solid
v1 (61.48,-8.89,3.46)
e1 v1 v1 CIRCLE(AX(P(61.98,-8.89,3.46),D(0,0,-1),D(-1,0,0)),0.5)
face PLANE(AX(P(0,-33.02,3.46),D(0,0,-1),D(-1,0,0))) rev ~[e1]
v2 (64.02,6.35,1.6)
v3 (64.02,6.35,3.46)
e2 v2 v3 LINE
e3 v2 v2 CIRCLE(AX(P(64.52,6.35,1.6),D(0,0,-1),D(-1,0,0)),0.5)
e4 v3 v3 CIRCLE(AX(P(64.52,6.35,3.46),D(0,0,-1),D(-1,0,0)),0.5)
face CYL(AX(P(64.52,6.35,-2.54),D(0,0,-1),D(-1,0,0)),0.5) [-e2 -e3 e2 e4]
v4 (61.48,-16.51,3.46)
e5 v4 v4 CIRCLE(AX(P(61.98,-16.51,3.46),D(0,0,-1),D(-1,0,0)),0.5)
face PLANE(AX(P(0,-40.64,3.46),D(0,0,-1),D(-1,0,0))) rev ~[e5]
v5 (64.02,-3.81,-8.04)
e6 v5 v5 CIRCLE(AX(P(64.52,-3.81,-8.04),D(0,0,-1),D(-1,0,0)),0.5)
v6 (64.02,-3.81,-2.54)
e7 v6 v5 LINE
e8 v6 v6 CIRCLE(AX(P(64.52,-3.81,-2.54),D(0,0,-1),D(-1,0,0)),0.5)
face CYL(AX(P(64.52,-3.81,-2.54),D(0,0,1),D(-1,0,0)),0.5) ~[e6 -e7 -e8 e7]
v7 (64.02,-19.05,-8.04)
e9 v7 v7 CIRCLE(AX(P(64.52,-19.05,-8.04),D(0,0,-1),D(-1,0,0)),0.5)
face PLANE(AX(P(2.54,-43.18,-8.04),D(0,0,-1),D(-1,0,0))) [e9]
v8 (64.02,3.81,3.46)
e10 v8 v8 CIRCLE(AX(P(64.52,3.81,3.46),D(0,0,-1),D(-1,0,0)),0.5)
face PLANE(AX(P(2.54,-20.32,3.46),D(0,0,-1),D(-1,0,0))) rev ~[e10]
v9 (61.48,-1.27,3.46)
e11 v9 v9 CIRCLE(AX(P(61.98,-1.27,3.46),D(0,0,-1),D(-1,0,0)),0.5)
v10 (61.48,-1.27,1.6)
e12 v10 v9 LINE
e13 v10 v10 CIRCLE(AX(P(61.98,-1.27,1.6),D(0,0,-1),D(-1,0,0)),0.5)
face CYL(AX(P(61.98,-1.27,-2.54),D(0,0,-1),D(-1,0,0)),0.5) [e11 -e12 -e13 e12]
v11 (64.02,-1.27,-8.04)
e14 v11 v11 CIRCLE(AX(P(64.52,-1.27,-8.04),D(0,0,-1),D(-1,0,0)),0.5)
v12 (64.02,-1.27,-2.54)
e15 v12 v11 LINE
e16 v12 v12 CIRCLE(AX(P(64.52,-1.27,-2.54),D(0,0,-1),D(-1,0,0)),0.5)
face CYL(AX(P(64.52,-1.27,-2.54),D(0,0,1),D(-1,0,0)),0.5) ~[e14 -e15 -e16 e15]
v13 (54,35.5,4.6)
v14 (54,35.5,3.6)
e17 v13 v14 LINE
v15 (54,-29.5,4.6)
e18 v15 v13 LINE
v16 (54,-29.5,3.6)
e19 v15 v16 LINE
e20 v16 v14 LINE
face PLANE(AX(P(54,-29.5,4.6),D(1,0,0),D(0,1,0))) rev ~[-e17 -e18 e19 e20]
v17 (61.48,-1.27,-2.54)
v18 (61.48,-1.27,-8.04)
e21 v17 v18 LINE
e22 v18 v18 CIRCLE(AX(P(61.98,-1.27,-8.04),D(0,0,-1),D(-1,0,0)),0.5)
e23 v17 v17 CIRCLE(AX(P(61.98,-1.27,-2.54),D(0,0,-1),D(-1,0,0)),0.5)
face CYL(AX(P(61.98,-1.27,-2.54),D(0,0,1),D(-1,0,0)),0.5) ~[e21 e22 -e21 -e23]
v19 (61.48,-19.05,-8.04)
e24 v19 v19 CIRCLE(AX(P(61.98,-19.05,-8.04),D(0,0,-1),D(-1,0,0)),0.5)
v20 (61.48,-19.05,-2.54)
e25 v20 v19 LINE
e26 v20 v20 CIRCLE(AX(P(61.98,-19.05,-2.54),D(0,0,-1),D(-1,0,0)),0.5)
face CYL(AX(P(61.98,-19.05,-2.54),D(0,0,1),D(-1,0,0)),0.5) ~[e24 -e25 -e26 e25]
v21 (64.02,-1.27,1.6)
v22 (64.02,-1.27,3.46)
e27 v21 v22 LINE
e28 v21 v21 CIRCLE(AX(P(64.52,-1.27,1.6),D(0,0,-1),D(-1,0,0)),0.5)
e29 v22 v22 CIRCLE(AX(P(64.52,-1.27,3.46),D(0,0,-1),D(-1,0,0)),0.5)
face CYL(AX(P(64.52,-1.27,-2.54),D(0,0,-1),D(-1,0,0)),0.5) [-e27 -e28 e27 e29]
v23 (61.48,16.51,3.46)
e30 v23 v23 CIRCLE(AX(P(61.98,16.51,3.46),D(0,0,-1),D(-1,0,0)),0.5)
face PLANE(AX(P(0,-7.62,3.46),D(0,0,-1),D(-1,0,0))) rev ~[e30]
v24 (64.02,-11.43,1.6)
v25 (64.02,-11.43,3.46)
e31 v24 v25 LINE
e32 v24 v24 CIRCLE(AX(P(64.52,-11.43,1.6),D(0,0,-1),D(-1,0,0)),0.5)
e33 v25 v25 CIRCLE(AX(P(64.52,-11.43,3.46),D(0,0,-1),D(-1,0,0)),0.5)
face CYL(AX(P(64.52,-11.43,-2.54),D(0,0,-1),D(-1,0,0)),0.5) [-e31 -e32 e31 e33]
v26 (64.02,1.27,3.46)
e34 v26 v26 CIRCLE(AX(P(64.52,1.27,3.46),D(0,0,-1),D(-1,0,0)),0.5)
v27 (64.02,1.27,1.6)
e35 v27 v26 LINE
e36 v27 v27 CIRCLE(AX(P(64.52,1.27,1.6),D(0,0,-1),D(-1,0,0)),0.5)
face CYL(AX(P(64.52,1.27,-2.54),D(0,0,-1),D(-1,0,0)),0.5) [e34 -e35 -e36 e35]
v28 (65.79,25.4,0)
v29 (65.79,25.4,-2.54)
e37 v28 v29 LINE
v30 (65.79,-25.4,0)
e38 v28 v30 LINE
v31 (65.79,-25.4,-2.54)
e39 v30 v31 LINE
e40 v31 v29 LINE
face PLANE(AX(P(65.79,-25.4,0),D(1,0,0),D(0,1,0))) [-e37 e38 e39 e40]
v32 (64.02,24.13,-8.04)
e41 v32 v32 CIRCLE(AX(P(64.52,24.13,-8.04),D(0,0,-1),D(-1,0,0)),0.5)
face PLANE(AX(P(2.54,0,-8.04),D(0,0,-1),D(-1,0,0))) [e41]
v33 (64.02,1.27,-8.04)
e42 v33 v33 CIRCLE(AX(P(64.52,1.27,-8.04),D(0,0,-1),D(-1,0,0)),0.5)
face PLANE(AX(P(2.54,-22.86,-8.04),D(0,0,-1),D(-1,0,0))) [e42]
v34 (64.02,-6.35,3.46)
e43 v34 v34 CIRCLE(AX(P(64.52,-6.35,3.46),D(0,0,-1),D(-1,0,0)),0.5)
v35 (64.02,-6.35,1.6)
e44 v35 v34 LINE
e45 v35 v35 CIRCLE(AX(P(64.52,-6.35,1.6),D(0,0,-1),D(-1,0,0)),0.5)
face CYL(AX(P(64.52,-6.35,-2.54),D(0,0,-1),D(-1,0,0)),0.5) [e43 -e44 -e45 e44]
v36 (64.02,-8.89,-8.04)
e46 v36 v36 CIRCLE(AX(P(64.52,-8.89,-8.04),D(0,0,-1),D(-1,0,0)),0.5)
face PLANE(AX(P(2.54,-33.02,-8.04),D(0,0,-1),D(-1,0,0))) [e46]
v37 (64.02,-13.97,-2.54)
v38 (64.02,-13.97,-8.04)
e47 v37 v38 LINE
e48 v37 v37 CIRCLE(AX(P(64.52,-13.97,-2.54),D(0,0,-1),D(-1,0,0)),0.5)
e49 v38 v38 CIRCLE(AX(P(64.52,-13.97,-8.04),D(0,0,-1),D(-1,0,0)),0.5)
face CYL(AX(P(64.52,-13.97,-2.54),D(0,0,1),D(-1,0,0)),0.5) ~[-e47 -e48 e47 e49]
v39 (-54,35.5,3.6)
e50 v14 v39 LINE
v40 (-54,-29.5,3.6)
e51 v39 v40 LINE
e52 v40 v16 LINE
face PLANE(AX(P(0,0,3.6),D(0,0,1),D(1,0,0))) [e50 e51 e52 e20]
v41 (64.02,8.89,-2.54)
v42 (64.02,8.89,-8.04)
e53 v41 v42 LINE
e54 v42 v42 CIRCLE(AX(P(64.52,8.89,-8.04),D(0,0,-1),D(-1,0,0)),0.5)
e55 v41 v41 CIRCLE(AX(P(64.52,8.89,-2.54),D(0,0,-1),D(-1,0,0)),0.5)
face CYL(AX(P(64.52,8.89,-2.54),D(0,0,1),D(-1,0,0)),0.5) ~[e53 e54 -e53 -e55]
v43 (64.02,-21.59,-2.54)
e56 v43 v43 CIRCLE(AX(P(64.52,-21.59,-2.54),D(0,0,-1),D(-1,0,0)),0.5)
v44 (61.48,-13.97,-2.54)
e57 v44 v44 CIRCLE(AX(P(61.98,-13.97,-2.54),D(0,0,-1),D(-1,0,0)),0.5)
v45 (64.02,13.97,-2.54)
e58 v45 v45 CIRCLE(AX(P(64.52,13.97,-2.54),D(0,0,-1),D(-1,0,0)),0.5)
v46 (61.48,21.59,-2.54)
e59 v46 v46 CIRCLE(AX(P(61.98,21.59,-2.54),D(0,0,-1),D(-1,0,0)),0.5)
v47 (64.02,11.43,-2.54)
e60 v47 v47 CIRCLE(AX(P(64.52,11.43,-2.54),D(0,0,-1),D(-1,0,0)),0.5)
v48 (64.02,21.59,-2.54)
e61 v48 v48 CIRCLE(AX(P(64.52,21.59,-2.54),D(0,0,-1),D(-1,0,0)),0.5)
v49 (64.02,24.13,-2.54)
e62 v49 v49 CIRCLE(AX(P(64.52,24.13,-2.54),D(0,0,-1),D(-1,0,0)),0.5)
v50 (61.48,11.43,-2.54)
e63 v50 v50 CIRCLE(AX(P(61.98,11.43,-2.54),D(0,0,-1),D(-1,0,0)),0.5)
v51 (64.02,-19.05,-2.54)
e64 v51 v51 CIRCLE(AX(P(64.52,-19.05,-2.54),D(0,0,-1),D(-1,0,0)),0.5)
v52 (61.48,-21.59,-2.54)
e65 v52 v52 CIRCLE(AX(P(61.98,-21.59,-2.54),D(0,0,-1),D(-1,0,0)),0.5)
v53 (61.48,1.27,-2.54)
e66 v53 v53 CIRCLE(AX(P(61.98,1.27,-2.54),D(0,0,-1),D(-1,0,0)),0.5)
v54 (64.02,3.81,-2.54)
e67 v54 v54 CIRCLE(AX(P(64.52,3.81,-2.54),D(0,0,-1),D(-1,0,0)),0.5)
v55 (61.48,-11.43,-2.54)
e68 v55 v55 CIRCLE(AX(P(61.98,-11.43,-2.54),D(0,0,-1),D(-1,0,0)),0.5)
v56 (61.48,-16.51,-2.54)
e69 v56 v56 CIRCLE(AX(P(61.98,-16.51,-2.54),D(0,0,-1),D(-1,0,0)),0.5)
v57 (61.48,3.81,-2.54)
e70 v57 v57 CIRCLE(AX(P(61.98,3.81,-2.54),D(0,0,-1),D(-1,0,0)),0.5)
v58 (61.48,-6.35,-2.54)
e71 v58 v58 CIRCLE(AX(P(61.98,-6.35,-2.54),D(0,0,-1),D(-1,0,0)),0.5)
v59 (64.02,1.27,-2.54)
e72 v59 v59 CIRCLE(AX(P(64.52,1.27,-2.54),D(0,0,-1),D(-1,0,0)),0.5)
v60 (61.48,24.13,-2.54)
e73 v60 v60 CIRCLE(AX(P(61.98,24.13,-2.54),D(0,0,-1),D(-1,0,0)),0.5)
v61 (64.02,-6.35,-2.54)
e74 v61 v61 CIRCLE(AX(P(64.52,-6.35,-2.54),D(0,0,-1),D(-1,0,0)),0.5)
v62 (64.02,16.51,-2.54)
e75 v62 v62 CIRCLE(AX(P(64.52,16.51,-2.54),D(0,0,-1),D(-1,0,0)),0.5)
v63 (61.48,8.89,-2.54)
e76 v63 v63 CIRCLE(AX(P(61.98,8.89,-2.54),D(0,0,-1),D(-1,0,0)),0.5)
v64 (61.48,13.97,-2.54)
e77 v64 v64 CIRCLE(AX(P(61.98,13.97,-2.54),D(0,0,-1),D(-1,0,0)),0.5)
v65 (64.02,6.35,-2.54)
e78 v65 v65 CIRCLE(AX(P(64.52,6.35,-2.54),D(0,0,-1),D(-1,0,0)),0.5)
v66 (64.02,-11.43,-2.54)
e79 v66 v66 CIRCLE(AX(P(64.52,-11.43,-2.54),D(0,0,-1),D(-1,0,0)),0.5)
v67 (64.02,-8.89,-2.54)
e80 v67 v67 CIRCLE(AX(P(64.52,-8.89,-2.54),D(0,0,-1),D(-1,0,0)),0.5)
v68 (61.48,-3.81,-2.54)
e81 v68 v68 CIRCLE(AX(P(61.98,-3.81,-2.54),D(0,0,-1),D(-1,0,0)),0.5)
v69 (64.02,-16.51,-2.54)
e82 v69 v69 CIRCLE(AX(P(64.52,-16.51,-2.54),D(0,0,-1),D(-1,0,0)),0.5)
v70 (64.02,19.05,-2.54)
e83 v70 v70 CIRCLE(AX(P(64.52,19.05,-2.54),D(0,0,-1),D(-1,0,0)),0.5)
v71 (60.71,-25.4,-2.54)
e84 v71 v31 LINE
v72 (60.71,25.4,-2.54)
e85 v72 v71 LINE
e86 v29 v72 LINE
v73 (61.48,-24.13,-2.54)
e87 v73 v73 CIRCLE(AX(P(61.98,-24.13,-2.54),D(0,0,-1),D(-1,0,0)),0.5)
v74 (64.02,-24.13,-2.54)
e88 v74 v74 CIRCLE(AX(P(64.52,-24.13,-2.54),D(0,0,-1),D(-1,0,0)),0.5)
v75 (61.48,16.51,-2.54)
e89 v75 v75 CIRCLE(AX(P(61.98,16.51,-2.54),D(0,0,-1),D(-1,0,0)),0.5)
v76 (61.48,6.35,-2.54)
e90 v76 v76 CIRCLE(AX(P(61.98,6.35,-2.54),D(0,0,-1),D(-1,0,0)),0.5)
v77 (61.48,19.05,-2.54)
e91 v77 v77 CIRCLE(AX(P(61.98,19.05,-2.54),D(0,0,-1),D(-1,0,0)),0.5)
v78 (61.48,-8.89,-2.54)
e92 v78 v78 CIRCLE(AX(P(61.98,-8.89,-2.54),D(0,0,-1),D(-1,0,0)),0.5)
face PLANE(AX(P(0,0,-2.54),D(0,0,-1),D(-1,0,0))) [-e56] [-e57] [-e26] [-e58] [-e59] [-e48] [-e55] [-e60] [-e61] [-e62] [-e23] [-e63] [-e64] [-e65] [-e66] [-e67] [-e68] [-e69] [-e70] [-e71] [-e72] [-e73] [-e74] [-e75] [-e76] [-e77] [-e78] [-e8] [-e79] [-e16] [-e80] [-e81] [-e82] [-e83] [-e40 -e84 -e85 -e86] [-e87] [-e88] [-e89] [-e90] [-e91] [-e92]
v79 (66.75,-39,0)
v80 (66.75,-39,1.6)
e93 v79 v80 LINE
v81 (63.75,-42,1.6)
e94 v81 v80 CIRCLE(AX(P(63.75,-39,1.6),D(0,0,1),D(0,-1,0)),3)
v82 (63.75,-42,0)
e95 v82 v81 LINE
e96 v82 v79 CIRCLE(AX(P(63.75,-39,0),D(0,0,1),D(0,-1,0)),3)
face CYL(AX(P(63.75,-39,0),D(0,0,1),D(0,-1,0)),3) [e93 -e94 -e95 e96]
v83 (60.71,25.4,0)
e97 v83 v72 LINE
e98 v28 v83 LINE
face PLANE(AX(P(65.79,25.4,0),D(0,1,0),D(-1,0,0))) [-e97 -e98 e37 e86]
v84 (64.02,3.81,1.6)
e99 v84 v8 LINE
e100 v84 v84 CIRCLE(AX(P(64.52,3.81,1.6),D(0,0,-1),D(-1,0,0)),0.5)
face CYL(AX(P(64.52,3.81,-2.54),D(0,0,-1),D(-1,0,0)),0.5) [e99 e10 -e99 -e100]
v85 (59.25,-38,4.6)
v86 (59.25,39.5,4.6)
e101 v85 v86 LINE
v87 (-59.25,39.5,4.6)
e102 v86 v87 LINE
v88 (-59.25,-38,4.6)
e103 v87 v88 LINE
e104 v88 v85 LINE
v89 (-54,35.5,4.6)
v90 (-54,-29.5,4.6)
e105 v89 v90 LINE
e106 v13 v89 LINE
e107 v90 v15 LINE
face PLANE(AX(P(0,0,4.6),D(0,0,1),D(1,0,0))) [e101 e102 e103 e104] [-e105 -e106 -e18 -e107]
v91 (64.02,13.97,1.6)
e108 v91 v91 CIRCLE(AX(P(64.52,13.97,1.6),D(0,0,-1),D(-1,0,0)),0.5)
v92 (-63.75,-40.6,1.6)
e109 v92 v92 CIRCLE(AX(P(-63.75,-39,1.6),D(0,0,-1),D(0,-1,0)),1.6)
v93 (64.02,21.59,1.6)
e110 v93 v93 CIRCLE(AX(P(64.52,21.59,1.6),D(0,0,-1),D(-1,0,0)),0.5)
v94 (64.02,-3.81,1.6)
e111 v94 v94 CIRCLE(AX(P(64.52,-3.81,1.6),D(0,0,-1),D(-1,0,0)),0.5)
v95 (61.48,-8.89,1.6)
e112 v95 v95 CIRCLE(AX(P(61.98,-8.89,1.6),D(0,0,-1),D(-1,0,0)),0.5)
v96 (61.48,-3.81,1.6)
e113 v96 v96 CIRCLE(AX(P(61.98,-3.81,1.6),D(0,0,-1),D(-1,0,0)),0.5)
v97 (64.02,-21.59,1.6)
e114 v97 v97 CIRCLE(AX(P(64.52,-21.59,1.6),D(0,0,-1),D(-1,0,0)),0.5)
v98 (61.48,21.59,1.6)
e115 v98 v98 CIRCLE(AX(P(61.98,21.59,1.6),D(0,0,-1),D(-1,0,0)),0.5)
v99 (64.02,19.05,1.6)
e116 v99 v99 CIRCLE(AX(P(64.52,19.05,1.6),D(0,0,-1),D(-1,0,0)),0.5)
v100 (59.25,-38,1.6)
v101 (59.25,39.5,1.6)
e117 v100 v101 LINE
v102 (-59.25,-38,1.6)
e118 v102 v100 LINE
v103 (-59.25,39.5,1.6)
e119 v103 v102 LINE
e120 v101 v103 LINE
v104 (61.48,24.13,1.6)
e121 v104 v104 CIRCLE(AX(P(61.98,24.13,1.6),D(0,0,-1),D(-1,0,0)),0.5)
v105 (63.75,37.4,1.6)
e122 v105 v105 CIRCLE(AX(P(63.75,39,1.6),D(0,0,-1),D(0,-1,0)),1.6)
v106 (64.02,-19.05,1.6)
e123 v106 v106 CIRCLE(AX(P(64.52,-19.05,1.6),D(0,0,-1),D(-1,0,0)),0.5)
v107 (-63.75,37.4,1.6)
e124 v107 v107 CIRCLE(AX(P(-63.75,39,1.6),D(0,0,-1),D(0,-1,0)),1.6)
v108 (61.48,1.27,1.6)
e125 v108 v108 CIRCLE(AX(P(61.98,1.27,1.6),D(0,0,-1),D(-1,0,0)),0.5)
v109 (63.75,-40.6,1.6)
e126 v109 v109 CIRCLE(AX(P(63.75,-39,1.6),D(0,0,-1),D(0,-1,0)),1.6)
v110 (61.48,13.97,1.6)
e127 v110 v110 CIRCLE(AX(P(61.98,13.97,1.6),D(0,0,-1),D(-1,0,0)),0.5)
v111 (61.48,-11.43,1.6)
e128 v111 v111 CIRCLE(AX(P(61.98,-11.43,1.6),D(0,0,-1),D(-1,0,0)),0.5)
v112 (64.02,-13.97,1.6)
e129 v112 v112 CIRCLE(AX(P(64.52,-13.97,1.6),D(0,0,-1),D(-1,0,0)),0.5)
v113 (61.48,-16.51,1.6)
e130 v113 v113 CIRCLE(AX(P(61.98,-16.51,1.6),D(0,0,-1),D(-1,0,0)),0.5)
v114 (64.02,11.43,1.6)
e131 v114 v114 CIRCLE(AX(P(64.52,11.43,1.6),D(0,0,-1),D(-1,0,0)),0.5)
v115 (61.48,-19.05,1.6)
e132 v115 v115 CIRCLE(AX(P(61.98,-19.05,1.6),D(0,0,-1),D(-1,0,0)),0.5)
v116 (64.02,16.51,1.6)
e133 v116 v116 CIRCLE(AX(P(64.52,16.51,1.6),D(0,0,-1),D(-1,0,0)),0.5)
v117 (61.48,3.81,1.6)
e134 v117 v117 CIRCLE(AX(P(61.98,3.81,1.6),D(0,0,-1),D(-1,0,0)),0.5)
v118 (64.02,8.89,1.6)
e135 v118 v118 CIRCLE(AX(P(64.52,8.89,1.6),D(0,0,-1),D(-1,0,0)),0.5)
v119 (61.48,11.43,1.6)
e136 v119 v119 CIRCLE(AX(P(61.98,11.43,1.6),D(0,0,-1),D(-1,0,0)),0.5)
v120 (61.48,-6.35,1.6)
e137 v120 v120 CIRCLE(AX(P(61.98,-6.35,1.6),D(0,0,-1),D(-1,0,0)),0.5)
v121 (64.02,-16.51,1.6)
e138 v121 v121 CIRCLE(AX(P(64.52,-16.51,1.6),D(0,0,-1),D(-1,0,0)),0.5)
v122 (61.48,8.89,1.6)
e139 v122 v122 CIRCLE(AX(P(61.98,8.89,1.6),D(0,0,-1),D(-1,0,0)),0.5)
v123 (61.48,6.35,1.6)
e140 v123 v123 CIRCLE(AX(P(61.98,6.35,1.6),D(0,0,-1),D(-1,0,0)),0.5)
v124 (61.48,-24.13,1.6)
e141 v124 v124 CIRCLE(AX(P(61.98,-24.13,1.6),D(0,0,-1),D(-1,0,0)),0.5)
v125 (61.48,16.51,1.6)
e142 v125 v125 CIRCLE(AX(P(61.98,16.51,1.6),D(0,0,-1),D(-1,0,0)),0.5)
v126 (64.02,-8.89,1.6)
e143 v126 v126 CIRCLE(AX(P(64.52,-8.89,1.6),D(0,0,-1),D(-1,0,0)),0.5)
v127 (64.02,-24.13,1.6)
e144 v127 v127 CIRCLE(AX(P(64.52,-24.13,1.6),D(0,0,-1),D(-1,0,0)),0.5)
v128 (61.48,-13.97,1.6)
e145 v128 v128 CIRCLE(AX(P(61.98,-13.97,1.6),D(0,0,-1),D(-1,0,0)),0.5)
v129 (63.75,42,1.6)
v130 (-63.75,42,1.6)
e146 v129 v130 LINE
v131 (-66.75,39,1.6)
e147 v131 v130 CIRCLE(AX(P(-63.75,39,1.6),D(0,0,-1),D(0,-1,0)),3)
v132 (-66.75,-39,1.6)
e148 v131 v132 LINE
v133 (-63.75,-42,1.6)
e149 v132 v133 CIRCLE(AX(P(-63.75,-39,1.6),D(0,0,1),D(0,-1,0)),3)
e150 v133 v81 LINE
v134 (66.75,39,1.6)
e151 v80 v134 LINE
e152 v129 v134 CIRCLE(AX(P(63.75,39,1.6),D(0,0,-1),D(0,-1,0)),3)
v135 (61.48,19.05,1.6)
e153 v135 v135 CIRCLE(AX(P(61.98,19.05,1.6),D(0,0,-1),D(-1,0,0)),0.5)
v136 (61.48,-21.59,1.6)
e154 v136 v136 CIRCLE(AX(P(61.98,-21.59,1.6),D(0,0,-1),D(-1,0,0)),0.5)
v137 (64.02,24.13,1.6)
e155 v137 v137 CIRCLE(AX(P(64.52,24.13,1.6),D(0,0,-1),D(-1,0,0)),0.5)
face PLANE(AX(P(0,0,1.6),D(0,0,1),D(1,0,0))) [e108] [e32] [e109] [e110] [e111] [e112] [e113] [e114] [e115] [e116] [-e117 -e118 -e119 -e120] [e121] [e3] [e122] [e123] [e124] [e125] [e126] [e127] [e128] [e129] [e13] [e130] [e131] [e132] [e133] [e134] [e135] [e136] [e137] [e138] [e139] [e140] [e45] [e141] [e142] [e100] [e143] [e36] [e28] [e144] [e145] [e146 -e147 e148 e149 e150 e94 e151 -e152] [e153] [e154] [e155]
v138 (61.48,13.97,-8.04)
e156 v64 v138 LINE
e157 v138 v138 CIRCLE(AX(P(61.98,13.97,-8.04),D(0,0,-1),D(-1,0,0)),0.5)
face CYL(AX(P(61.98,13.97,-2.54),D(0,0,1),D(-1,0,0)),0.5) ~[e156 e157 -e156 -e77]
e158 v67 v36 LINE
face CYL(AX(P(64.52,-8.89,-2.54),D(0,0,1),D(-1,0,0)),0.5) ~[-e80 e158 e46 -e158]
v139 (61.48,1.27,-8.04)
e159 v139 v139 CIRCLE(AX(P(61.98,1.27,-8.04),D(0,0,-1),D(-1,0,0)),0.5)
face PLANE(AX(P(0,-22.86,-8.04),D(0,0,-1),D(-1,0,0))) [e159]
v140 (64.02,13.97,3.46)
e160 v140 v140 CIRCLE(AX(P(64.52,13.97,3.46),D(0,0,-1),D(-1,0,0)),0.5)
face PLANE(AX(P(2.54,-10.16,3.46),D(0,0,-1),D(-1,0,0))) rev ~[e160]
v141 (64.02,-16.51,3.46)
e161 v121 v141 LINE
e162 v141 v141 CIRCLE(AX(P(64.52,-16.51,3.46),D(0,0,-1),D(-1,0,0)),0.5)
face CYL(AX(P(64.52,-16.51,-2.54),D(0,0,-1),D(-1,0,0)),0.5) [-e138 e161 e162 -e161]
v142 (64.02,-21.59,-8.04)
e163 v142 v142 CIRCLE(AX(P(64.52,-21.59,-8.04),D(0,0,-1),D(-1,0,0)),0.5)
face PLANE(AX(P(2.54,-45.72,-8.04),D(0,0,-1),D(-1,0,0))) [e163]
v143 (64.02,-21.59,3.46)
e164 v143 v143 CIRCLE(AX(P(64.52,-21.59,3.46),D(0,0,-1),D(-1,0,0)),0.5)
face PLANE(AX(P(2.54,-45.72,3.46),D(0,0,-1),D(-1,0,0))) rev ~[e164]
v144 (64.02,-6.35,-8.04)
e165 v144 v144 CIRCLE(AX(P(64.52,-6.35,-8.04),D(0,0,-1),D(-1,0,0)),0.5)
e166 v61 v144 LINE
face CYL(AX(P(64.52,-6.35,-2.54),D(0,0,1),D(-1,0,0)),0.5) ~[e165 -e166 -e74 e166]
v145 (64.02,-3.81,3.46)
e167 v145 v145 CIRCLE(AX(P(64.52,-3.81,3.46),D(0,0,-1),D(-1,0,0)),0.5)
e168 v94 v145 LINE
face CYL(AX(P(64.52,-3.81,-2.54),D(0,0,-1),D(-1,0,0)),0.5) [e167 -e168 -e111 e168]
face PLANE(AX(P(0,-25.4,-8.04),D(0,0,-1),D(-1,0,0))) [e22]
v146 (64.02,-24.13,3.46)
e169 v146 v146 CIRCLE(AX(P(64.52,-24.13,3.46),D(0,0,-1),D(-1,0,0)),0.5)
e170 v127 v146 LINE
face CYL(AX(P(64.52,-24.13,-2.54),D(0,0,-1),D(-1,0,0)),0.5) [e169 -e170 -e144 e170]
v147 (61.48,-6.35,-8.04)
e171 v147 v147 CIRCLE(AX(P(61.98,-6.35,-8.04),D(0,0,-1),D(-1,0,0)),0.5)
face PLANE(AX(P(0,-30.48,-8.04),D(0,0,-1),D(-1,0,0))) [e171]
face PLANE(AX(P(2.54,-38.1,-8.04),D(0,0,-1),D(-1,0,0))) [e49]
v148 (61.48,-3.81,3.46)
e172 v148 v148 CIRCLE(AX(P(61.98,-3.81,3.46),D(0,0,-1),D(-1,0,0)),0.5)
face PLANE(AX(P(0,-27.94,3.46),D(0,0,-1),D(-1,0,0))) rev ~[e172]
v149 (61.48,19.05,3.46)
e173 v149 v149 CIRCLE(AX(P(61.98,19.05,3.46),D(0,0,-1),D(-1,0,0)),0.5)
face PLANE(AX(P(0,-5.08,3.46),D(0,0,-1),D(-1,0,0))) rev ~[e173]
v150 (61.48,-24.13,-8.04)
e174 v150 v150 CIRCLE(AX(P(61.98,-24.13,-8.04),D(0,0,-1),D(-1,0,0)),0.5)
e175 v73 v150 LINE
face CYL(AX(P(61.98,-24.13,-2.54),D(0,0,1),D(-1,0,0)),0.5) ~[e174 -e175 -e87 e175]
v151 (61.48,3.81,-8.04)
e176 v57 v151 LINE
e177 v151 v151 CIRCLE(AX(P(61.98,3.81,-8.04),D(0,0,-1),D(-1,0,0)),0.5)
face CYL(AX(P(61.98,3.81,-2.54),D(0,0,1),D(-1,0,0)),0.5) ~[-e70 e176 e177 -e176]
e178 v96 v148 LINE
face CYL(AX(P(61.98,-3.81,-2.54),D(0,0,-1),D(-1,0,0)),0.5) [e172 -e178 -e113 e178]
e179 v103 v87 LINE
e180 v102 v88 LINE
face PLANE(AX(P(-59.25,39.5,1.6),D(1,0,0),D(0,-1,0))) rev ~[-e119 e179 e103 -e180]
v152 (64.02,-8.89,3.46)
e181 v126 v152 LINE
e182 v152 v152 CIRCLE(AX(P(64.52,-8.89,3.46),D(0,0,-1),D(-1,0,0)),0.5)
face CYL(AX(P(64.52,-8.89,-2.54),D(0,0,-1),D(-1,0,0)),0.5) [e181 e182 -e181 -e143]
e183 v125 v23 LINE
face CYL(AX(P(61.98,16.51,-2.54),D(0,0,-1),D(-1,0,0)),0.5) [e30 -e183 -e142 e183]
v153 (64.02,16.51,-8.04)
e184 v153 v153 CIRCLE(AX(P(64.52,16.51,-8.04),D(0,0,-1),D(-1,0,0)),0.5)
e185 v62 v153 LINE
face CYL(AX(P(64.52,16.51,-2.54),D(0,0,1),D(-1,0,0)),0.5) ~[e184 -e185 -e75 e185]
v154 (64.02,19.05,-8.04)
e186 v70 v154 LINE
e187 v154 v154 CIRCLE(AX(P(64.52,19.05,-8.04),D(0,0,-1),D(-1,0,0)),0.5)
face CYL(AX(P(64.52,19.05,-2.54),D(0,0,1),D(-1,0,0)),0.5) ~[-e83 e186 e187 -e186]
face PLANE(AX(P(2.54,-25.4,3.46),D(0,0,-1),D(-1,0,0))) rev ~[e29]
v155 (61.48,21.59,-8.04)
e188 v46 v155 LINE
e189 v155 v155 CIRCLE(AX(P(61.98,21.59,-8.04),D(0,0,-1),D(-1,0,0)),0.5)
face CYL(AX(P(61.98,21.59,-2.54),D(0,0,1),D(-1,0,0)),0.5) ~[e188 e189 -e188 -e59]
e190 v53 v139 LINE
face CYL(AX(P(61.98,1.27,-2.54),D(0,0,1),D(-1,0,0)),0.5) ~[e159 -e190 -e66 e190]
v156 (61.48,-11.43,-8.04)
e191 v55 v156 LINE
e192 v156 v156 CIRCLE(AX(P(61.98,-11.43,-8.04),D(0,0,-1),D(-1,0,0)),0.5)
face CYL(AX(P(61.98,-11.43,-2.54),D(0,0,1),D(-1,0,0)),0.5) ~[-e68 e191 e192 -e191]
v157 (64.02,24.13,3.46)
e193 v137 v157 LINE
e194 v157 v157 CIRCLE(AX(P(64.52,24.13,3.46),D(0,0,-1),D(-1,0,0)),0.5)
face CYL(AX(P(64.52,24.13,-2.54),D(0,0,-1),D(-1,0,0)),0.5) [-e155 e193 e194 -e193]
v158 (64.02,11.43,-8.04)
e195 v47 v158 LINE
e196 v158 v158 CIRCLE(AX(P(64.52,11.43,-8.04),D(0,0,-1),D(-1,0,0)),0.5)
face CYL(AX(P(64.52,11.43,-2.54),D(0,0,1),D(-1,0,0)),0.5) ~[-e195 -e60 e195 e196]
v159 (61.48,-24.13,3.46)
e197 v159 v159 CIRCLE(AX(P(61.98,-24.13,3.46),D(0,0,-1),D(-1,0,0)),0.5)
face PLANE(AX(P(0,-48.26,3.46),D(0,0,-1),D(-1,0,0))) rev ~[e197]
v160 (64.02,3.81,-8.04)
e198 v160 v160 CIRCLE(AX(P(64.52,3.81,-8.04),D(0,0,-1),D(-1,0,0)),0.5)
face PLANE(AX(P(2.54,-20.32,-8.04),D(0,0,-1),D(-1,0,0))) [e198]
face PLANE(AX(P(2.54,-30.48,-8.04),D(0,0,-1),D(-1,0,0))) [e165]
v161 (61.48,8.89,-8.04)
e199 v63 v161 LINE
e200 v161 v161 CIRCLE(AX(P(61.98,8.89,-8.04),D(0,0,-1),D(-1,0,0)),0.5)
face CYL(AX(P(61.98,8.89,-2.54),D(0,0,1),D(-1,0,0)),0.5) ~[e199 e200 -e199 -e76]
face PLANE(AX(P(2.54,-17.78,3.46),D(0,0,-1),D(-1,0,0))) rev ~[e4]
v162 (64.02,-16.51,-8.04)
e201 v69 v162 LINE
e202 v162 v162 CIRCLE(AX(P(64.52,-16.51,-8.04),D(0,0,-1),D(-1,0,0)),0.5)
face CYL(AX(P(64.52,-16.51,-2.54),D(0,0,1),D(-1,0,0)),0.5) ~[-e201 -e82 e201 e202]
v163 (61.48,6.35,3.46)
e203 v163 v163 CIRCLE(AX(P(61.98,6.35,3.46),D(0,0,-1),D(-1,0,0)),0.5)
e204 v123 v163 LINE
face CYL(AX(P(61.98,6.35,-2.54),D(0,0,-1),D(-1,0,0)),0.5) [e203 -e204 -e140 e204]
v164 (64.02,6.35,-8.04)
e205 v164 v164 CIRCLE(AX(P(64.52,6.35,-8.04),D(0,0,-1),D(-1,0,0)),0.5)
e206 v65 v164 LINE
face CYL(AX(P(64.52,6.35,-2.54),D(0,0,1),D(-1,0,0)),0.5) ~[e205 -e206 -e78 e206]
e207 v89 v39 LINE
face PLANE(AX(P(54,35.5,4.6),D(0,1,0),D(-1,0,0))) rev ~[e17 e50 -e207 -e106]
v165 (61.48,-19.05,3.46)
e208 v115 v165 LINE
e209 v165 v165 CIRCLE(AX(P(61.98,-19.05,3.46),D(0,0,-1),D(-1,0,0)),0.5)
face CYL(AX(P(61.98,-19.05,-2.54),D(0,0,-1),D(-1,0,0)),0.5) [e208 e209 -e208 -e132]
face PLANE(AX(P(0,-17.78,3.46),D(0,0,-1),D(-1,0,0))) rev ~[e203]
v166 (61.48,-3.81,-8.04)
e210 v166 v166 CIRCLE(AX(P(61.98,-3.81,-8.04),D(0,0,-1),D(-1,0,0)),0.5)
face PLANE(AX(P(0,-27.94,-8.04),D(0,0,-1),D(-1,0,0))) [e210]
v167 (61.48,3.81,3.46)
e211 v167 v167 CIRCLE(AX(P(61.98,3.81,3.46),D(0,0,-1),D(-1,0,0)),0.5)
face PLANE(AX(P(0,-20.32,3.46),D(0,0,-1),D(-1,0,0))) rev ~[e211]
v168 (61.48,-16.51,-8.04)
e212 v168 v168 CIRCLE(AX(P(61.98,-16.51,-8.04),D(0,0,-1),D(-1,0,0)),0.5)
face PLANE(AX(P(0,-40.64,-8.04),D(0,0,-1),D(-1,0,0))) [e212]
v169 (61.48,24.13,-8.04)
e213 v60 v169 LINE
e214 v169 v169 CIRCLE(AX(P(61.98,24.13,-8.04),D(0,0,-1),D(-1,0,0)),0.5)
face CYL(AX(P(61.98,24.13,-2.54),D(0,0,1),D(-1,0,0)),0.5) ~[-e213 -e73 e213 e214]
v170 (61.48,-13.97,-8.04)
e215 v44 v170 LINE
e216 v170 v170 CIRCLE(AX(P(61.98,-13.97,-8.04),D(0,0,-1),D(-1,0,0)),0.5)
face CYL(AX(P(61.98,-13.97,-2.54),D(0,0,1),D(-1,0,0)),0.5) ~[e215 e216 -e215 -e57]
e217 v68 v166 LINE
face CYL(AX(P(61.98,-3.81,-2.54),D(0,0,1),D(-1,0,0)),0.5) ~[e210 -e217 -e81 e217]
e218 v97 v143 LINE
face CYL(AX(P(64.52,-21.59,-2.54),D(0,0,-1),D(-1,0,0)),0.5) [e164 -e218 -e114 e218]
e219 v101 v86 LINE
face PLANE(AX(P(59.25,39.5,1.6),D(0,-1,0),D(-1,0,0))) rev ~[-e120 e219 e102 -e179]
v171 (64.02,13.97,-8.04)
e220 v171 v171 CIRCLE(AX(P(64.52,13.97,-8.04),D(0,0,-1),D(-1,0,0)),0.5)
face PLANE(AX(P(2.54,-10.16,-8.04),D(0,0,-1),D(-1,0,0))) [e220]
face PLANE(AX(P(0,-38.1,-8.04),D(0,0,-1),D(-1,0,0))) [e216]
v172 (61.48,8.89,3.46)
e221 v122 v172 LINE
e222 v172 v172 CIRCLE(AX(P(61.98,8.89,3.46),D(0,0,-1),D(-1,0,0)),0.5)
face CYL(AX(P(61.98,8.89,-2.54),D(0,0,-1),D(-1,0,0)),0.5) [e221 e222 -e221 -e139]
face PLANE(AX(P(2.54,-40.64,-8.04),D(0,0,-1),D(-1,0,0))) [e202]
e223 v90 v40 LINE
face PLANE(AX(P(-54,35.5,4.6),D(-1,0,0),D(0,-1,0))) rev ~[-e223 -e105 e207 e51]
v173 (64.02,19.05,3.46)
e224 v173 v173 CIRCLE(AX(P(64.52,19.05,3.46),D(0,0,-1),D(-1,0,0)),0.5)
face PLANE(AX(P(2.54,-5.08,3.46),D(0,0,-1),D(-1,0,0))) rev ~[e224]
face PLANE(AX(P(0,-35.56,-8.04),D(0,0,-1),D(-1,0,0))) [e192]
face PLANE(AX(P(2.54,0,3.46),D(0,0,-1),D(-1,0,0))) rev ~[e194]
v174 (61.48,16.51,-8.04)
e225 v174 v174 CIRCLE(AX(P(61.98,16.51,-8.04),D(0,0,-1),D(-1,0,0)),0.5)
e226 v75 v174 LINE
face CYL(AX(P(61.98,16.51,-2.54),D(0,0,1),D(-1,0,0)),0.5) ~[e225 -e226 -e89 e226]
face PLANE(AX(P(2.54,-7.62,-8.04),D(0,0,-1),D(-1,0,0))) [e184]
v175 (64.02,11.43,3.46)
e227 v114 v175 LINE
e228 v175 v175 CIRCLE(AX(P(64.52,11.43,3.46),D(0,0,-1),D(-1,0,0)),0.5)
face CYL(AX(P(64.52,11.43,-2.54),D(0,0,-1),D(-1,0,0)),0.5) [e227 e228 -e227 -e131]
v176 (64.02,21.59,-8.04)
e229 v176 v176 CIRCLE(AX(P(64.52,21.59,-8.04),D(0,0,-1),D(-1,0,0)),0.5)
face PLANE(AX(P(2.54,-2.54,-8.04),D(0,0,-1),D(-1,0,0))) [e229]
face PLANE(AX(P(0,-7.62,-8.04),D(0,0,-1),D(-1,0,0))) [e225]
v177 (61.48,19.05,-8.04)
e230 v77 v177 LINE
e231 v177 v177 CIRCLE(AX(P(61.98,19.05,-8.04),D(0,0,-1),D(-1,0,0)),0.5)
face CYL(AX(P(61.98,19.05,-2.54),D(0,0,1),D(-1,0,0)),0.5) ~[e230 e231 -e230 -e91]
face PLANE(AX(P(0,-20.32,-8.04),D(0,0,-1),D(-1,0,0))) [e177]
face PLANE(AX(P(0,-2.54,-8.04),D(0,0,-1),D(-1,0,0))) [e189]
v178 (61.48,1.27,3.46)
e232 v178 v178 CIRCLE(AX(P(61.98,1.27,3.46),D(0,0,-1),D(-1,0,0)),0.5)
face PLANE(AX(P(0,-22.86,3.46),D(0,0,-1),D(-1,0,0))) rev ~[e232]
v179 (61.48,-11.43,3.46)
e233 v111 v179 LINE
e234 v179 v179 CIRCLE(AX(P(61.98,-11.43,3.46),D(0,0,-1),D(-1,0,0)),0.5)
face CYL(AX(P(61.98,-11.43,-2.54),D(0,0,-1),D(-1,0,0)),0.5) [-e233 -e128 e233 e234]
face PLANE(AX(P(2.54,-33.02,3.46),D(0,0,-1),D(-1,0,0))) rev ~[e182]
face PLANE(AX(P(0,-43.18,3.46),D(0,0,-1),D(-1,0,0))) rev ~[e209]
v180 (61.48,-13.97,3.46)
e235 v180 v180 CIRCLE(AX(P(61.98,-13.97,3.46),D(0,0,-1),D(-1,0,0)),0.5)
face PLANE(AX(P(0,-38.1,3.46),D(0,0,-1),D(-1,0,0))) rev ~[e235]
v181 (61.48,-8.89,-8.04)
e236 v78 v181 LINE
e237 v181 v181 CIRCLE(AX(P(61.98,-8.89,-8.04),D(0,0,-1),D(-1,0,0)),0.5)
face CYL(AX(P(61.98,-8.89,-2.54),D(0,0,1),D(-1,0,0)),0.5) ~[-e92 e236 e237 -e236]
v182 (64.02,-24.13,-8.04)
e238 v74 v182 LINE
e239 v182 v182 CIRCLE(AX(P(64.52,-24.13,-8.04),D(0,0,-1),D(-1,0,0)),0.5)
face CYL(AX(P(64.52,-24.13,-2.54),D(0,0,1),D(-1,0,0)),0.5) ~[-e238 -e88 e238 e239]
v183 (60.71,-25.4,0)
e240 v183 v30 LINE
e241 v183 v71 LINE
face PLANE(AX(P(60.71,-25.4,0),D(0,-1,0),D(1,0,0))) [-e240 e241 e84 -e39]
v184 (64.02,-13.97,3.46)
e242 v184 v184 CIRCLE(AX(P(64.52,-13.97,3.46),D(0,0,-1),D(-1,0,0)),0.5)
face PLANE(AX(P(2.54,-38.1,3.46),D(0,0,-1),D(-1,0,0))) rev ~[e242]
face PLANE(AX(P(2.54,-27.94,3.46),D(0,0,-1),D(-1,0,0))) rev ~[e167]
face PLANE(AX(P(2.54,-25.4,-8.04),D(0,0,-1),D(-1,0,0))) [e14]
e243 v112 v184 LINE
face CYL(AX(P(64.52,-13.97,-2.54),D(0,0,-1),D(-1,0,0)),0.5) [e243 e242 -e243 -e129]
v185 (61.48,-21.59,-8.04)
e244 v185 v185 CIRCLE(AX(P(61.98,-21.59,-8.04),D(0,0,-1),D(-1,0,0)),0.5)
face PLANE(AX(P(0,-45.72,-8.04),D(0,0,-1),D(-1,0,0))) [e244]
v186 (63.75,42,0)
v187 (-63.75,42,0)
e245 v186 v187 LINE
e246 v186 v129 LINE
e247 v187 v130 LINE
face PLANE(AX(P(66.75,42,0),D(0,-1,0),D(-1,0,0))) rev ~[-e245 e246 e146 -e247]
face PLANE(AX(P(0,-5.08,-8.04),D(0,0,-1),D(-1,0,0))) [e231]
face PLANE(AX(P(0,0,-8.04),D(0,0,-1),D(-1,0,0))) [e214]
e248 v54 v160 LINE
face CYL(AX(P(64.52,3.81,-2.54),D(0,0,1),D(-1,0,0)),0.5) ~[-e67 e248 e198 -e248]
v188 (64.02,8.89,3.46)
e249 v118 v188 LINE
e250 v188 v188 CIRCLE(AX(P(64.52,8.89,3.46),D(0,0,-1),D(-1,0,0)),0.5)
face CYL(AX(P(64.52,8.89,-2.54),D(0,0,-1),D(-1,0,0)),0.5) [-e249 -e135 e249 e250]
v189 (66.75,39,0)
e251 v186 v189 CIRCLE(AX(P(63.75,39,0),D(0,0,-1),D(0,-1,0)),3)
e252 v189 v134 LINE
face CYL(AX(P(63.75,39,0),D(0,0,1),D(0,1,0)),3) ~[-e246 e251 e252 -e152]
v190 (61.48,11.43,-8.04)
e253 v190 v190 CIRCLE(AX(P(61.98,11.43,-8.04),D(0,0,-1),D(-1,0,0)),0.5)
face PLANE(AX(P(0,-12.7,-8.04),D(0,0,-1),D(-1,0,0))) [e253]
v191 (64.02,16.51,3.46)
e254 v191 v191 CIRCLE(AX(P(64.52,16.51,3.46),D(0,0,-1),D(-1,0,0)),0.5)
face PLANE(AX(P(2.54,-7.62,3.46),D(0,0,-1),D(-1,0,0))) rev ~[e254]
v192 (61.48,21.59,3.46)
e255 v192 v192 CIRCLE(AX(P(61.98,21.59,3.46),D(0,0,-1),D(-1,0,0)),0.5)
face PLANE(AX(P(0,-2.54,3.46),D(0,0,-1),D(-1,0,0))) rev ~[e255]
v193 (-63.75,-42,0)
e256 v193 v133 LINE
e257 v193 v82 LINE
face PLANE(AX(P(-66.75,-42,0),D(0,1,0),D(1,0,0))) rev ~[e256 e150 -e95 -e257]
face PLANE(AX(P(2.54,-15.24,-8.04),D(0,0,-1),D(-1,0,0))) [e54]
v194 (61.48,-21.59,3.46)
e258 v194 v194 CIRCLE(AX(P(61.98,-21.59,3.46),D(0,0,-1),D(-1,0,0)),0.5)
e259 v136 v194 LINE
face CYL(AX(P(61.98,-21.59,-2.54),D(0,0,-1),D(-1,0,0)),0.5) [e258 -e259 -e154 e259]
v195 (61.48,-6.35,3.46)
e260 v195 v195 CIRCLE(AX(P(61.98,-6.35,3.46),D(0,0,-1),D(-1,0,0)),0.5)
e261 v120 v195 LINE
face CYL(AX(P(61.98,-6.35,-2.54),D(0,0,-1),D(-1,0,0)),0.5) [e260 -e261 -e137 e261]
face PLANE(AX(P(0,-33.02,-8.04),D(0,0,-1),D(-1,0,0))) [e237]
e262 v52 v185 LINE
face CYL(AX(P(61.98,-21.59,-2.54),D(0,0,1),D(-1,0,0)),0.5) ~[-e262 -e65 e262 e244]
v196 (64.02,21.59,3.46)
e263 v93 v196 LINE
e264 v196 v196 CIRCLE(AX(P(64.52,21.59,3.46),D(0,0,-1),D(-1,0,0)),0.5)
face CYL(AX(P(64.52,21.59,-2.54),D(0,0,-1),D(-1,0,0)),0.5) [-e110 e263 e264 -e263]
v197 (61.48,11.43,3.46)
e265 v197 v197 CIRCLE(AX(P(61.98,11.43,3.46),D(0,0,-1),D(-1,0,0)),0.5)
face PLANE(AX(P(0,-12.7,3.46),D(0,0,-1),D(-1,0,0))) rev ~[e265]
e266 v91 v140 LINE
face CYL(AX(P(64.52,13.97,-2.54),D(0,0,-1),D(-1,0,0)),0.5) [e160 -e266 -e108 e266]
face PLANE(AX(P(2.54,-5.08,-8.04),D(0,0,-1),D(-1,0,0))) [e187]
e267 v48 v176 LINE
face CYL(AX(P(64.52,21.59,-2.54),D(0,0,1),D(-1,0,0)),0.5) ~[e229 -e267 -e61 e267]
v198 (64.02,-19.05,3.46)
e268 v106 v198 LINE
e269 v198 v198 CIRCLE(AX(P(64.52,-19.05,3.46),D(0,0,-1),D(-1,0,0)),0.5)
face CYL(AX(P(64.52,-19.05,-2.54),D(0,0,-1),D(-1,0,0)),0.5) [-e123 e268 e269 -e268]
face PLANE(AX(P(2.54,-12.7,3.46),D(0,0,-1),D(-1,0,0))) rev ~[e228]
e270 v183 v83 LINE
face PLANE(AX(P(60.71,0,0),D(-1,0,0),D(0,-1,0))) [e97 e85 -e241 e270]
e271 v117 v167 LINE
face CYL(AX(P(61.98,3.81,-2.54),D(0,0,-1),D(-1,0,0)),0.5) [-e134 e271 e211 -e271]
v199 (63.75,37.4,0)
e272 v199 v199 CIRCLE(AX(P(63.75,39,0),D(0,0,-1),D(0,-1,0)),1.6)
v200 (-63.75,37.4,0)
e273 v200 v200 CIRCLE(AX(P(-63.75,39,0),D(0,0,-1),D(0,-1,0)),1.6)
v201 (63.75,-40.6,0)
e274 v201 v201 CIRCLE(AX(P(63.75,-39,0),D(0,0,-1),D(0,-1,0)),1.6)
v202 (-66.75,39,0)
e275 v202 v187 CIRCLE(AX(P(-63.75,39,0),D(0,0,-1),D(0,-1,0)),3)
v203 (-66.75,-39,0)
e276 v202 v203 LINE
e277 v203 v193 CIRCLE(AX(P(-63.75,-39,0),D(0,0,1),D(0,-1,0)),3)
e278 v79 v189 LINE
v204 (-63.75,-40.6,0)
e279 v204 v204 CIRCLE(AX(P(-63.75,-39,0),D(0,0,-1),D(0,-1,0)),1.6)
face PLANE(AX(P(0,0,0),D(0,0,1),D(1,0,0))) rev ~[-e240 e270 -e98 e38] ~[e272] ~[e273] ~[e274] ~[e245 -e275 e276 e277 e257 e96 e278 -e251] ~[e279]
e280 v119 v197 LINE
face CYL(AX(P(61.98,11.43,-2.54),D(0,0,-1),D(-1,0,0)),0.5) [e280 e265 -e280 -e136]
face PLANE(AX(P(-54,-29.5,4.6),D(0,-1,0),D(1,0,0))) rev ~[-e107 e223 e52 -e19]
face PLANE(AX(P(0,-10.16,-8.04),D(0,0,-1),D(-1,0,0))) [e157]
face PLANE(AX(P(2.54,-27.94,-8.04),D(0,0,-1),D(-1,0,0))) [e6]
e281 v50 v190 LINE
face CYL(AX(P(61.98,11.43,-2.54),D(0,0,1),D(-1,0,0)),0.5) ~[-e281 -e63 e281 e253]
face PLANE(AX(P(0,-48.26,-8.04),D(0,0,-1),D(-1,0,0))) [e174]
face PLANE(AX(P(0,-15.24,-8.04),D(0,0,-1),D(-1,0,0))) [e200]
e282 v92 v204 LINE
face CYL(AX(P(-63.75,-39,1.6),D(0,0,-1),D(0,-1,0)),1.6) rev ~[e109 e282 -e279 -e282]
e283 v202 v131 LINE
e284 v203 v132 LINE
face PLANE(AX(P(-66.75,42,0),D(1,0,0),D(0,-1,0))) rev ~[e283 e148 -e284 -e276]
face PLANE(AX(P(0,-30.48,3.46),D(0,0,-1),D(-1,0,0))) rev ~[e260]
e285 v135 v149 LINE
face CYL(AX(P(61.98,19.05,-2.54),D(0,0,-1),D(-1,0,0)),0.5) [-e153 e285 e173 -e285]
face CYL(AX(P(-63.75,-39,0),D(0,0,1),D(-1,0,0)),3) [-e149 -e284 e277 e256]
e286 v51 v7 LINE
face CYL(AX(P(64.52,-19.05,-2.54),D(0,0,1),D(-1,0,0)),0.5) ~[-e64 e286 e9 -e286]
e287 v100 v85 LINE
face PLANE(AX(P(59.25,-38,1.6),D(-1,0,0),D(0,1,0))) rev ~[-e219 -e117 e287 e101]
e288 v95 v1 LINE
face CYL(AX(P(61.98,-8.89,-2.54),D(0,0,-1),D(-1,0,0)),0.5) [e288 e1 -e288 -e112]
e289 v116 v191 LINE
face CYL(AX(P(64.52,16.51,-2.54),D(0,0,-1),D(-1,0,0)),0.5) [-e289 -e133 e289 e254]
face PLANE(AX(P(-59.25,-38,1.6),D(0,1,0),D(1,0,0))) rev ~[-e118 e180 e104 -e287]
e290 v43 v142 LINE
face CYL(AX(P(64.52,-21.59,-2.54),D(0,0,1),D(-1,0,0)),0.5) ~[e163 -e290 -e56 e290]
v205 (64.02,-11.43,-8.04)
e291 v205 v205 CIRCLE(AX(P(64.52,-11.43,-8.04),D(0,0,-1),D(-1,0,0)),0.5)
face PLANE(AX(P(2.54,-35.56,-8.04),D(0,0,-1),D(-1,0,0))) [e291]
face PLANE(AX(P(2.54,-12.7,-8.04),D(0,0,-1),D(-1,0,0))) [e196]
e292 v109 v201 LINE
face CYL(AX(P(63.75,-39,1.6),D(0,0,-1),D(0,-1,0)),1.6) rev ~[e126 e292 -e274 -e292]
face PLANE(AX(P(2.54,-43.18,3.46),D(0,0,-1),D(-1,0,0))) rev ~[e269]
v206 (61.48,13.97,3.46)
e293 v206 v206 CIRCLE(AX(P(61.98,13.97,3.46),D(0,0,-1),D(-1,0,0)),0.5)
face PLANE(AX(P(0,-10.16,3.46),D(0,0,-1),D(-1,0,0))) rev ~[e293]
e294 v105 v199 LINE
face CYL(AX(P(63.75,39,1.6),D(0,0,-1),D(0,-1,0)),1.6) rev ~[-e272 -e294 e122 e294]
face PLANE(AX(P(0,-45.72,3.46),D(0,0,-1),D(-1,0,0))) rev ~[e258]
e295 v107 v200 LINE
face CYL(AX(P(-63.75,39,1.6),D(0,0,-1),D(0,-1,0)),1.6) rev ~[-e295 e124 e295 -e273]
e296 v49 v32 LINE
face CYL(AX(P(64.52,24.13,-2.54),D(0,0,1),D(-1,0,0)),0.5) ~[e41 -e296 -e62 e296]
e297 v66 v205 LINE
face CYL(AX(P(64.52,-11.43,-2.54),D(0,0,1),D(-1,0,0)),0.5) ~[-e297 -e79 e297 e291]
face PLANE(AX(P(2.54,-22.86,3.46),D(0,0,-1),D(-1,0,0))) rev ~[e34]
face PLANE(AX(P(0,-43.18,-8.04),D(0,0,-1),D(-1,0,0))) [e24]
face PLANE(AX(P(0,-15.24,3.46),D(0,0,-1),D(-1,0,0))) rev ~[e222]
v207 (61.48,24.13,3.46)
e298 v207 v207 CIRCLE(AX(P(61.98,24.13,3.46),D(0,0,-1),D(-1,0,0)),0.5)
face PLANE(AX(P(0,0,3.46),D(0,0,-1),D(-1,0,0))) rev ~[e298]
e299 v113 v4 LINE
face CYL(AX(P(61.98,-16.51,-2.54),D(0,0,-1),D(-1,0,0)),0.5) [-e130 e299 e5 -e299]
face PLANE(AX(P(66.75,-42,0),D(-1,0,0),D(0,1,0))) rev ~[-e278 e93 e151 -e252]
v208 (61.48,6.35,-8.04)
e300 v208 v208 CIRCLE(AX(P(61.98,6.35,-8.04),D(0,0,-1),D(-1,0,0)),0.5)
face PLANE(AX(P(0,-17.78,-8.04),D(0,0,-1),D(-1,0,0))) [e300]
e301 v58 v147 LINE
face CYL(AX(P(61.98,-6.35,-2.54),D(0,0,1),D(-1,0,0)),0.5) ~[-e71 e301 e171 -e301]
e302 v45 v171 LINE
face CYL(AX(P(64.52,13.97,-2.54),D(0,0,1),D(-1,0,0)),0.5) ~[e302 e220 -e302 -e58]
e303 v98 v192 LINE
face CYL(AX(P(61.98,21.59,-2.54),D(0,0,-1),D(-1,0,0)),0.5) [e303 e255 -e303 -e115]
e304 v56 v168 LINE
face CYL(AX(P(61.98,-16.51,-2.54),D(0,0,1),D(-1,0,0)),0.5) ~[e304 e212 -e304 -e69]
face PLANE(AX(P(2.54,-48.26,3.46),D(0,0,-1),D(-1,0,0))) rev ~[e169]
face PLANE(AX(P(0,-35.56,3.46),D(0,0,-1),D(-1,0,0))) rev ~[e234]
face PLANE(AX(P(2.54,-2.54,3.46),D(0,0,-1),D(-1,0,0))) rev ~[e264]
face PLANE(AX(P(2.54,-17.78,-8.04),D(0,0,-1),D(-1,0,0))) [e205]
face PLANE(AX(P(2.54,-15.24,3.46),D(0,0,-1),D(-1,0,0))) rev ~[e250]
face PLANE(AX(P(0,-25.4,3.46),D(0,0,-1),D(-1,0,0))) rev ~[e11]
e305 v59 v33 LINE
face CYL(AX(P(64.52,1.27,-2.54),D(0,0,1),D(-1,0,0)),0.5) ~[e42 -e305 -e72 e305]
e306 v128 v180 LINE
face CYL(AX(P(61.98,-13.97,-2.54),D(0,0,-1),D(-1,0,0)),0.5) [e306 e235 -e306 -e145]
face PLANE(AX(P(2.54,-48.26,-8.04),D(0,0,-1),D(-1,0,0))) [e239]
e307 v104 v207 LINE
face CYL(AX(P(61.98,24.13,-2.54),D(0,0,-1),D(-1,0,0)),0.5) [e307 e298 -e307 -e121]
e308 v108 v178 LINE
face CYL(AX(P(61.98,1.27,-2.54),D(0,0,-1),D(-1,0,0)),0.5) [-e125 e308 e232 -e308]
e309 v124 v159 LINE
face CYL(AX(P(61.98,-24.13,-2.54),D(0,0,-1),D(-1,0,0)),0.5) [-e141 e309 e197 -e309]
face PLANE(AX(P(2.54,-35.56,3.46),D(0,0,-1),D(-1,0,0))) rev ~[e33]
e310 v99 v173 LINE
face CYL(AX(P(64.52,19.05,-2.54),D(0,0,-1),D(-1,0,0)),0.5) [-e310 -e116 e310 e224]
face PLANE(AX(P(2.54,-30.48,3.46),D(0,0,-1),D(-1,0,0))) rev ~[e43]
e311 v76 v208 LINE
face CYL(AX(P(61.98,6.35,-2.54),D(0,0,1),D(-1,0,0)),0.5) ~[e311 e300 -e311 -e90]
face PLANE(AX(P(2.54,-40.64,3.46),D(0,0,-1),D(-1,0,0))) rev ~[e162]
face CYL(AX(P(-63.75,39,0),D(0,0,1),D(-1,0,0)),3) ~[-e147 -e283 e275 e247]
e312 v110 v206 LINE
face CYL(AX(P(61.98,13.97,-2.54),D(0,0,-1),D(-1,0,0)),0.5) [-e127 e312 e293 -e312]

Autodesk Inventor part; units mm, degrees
ref_plane "YZ Plane" through (0, 0, 0) normal (1, 0, 0) x (0, 1, 0)
ref_plane "XZ Plane" through (0, 0, 0) normal (0, 1, 0) x (-1, 0, 0)
ref_plane "XY Plane" through (0, 0, 0) normal (0, 0, 1) x (1, 0, 0)
sketch "Skizze1" plane through (0, 0, 0) normal (0, 0, 1) x (1, 0, 0)
  line L0 (-66.75, -42) -> (66.75, -42)
  line L1 (66.75, -42) -> (66.75, 42)
  line L2 (66.75, 42) -> (-66.75, 42)
  line L3 (-66.75, 42) -> (-66.75, -42)
  line L4 (-66.75, -42) -> (66.75, 42) construction
  line L5 (66.75, -42) -> (-66.75, 42) construction
  point P0 (0, 0)
  dimension "d0" = 133.5
  dimension "d1" = 84
extrude "Extrusion1" add sketch "Skizze1" along normal blind 1.6
sketch "Skizze2" plane through (0, 0, 1.6) normal (0, 0, 1) x (1, 0, 0)
  line L0 (-66.75, -42) -> (66.75, -42) projected
  line L1 (66.75, -42) -> (66.75, 42) projected
  line L2 (66.75, 42) -> (-66.75, 42) projected
  line L3 (-66.75, 42) -> (-66.75, -42) projected
  line L4 (-63.75, 39) -> (63.75, 39)
  line L5 (63.75, 39) -> (63.75, -39)
  line L6 (63.75, -39) -> (-63.75, -39)
  line L7 (-63.75, -39) -> (-63.75, 39)
  point P0 (0, 0)
  dimension "d4" = 3
hole "Bohrung1" at (-63.75, 39, 1.6) at (63.75, 39, 1.6) at (-63.75, -39, 1.6) at (63.75, -39, 1.6) direction (0, 0, -1) diameter 3.2 end through all
sketch "Skizze3" plane through (0, 0, 1.6) normal (0, 0, 1) x (1, 0, 0)
  line L0 (-59.25, -38) -> (59.25, -38)
  line L1 (59.25, -38) -> (59.25, 39.5)
  line L2 (59.25, 39.5) -> (-59.25, 39.5)
  line L3 (-59.25, 39.5) -> (-59.25, -38)
  line L4 (-66.75, 42) -> (-66.75, -42) projected
  line L5 (66.75, 42) -> (-66.75, 42) projected
  point P0 (0, 0)
  dimension "d12" = 118.5
  dimension "d13" = 77.5
  dimension "d14" = 7.5
  dimension "d15" = 2.5
extrude "Extrusion2" add sketch "Skizze3" along normal blind 3
sketch "Skizze4" plane through (0, 0, 4.6) normal (0, 0, 1) x (1, 0, 0)
  line L0 (-54, -29.5) -> (54, -29.5)
  line L1 (54, -29.5) -> (54, 35.5)
  line L2 (54, 35.5) -> (-54, 35.5)
  line L3 (-54, 35.5) -> (-54, -29.5)
  line L4 (-59.25, -38) -> (59.25, -38) projected
  line L5 (59.25, -38) -> (59.25, 39.5) projected
  line L6 (59.25, 39.5) -> (-59.25, 39.5) projected
  line L7 (-59.25, 39.5) -> (-59.25, -38) projected
  line L8 (-59.25, 39.5) -> (59.25, 39.5) construction
  line L9 (0, 39.5) -> (0, -38) construction
  point P0 (0, 0)
  dimension "d18" = 108
  dimension "d19" = 65
  dimension "d20" = 4
extrude "Extrusion3" cut sketch "Skizze4" against normal blind 1 contours L3 L2 L1 L0
fillet "Rundung1" radius 3 4 edges at (-66.75, -42, 0.8) (66.75, -42, 0.8) (66.75, 42, 0.8) (-66.75, 42, 0.8)
sketch "Skizze5" plane through (0, 0, 0) normal (0, 0, -1) x (-1, 0, 0)
  line L0 (-60.71, -25.4) -> (-65.79, -25.4)
  line L1 (-65.79, -25.4) -> (-65.79, 25.4)
  line L2 (-65.79, 25.4) -> (-60.71, 25.4)
  line L3 (-60.71, 25.4) -> (-60.71, -25.4)
  line L4 (-93.45, 0) -> (93.45, 0) projected
  arc A0 (66.75, 39) -> (63.75, 42) centre (63.75, 39) ccw projected
  line L5 (-63.75, 42) -> (63.75, 42) projected
  arc A1 (-63.75, 42) -> (-66.75, 39) centre (-63.75, 39) ccw projected
  line L6 (-66.75, -39) -> (-66.75, 39) projected
  arc A2 (-66.75, -39) -> (-63.75, -42) centre (-63.75, -39) ccw projected
  line L7 (63.75, -42) -> (-63.75, -42) projected
  arc A3 (63.75, -42) -> (66.75, -39) centre (63.75, -39) ccw projected
  line L8 (66.75, 39) -> (66.75, -39) projected
  circle A4 centre (63.75, -39) radius 1.6 projected
  circle A5 centre (63.75, 39) radius 1.6 projected
  circle A6 centre (-63.75, 39) radius 1.6 projected
  circle A7 centre (-63.75, -39) radius 1.6 projected
  point P0 (0, 0)
  dimension "d24" = 50.8
  dimension "d25" = 5.08
  dimension "d26" = 0.96
extrude "Extrusion4" add sketch "Skizze5" along normal blind 2.54 contours L0 L1 L4 L3 | L4 L1 L2 L3
sketch "Skizze6" plane through (0, 0, -2.54) normal (0, 0, -1) x (-1, 0, 0)
  line L0 (-65.79, -25.4) -> (-60.71, -25.4) projected
  line L1 (-60.71, -25.4) -> (-60.71, 25.4) projected
  line L2 (-60.71, 25.4) -> (-65.79, 25.4) projected
  line L3 (-65.79, 25.4) -> (-65.79, -25.4) projected
  circle A0 centre (-61.98, 24.13) radius 0.5
  point P0 (0, 0)
  dimension "d29" = 1
  dimension "d30" = 1.27
  dimension "d31" = 1.27
extrude "Extrusion5" add sketch "Skizze6" along normal blind 5.5 and the other way blind 6 contours A0
pattern_linear "Rechteckige Anordnung1" count 20 spacing 2.54 along (0, -1, 0) count 2 spacing 2.54 along (1, 0, 0) of "Extrusion5"
properties part number "TFT-CP11009" material "Phenolharz"
